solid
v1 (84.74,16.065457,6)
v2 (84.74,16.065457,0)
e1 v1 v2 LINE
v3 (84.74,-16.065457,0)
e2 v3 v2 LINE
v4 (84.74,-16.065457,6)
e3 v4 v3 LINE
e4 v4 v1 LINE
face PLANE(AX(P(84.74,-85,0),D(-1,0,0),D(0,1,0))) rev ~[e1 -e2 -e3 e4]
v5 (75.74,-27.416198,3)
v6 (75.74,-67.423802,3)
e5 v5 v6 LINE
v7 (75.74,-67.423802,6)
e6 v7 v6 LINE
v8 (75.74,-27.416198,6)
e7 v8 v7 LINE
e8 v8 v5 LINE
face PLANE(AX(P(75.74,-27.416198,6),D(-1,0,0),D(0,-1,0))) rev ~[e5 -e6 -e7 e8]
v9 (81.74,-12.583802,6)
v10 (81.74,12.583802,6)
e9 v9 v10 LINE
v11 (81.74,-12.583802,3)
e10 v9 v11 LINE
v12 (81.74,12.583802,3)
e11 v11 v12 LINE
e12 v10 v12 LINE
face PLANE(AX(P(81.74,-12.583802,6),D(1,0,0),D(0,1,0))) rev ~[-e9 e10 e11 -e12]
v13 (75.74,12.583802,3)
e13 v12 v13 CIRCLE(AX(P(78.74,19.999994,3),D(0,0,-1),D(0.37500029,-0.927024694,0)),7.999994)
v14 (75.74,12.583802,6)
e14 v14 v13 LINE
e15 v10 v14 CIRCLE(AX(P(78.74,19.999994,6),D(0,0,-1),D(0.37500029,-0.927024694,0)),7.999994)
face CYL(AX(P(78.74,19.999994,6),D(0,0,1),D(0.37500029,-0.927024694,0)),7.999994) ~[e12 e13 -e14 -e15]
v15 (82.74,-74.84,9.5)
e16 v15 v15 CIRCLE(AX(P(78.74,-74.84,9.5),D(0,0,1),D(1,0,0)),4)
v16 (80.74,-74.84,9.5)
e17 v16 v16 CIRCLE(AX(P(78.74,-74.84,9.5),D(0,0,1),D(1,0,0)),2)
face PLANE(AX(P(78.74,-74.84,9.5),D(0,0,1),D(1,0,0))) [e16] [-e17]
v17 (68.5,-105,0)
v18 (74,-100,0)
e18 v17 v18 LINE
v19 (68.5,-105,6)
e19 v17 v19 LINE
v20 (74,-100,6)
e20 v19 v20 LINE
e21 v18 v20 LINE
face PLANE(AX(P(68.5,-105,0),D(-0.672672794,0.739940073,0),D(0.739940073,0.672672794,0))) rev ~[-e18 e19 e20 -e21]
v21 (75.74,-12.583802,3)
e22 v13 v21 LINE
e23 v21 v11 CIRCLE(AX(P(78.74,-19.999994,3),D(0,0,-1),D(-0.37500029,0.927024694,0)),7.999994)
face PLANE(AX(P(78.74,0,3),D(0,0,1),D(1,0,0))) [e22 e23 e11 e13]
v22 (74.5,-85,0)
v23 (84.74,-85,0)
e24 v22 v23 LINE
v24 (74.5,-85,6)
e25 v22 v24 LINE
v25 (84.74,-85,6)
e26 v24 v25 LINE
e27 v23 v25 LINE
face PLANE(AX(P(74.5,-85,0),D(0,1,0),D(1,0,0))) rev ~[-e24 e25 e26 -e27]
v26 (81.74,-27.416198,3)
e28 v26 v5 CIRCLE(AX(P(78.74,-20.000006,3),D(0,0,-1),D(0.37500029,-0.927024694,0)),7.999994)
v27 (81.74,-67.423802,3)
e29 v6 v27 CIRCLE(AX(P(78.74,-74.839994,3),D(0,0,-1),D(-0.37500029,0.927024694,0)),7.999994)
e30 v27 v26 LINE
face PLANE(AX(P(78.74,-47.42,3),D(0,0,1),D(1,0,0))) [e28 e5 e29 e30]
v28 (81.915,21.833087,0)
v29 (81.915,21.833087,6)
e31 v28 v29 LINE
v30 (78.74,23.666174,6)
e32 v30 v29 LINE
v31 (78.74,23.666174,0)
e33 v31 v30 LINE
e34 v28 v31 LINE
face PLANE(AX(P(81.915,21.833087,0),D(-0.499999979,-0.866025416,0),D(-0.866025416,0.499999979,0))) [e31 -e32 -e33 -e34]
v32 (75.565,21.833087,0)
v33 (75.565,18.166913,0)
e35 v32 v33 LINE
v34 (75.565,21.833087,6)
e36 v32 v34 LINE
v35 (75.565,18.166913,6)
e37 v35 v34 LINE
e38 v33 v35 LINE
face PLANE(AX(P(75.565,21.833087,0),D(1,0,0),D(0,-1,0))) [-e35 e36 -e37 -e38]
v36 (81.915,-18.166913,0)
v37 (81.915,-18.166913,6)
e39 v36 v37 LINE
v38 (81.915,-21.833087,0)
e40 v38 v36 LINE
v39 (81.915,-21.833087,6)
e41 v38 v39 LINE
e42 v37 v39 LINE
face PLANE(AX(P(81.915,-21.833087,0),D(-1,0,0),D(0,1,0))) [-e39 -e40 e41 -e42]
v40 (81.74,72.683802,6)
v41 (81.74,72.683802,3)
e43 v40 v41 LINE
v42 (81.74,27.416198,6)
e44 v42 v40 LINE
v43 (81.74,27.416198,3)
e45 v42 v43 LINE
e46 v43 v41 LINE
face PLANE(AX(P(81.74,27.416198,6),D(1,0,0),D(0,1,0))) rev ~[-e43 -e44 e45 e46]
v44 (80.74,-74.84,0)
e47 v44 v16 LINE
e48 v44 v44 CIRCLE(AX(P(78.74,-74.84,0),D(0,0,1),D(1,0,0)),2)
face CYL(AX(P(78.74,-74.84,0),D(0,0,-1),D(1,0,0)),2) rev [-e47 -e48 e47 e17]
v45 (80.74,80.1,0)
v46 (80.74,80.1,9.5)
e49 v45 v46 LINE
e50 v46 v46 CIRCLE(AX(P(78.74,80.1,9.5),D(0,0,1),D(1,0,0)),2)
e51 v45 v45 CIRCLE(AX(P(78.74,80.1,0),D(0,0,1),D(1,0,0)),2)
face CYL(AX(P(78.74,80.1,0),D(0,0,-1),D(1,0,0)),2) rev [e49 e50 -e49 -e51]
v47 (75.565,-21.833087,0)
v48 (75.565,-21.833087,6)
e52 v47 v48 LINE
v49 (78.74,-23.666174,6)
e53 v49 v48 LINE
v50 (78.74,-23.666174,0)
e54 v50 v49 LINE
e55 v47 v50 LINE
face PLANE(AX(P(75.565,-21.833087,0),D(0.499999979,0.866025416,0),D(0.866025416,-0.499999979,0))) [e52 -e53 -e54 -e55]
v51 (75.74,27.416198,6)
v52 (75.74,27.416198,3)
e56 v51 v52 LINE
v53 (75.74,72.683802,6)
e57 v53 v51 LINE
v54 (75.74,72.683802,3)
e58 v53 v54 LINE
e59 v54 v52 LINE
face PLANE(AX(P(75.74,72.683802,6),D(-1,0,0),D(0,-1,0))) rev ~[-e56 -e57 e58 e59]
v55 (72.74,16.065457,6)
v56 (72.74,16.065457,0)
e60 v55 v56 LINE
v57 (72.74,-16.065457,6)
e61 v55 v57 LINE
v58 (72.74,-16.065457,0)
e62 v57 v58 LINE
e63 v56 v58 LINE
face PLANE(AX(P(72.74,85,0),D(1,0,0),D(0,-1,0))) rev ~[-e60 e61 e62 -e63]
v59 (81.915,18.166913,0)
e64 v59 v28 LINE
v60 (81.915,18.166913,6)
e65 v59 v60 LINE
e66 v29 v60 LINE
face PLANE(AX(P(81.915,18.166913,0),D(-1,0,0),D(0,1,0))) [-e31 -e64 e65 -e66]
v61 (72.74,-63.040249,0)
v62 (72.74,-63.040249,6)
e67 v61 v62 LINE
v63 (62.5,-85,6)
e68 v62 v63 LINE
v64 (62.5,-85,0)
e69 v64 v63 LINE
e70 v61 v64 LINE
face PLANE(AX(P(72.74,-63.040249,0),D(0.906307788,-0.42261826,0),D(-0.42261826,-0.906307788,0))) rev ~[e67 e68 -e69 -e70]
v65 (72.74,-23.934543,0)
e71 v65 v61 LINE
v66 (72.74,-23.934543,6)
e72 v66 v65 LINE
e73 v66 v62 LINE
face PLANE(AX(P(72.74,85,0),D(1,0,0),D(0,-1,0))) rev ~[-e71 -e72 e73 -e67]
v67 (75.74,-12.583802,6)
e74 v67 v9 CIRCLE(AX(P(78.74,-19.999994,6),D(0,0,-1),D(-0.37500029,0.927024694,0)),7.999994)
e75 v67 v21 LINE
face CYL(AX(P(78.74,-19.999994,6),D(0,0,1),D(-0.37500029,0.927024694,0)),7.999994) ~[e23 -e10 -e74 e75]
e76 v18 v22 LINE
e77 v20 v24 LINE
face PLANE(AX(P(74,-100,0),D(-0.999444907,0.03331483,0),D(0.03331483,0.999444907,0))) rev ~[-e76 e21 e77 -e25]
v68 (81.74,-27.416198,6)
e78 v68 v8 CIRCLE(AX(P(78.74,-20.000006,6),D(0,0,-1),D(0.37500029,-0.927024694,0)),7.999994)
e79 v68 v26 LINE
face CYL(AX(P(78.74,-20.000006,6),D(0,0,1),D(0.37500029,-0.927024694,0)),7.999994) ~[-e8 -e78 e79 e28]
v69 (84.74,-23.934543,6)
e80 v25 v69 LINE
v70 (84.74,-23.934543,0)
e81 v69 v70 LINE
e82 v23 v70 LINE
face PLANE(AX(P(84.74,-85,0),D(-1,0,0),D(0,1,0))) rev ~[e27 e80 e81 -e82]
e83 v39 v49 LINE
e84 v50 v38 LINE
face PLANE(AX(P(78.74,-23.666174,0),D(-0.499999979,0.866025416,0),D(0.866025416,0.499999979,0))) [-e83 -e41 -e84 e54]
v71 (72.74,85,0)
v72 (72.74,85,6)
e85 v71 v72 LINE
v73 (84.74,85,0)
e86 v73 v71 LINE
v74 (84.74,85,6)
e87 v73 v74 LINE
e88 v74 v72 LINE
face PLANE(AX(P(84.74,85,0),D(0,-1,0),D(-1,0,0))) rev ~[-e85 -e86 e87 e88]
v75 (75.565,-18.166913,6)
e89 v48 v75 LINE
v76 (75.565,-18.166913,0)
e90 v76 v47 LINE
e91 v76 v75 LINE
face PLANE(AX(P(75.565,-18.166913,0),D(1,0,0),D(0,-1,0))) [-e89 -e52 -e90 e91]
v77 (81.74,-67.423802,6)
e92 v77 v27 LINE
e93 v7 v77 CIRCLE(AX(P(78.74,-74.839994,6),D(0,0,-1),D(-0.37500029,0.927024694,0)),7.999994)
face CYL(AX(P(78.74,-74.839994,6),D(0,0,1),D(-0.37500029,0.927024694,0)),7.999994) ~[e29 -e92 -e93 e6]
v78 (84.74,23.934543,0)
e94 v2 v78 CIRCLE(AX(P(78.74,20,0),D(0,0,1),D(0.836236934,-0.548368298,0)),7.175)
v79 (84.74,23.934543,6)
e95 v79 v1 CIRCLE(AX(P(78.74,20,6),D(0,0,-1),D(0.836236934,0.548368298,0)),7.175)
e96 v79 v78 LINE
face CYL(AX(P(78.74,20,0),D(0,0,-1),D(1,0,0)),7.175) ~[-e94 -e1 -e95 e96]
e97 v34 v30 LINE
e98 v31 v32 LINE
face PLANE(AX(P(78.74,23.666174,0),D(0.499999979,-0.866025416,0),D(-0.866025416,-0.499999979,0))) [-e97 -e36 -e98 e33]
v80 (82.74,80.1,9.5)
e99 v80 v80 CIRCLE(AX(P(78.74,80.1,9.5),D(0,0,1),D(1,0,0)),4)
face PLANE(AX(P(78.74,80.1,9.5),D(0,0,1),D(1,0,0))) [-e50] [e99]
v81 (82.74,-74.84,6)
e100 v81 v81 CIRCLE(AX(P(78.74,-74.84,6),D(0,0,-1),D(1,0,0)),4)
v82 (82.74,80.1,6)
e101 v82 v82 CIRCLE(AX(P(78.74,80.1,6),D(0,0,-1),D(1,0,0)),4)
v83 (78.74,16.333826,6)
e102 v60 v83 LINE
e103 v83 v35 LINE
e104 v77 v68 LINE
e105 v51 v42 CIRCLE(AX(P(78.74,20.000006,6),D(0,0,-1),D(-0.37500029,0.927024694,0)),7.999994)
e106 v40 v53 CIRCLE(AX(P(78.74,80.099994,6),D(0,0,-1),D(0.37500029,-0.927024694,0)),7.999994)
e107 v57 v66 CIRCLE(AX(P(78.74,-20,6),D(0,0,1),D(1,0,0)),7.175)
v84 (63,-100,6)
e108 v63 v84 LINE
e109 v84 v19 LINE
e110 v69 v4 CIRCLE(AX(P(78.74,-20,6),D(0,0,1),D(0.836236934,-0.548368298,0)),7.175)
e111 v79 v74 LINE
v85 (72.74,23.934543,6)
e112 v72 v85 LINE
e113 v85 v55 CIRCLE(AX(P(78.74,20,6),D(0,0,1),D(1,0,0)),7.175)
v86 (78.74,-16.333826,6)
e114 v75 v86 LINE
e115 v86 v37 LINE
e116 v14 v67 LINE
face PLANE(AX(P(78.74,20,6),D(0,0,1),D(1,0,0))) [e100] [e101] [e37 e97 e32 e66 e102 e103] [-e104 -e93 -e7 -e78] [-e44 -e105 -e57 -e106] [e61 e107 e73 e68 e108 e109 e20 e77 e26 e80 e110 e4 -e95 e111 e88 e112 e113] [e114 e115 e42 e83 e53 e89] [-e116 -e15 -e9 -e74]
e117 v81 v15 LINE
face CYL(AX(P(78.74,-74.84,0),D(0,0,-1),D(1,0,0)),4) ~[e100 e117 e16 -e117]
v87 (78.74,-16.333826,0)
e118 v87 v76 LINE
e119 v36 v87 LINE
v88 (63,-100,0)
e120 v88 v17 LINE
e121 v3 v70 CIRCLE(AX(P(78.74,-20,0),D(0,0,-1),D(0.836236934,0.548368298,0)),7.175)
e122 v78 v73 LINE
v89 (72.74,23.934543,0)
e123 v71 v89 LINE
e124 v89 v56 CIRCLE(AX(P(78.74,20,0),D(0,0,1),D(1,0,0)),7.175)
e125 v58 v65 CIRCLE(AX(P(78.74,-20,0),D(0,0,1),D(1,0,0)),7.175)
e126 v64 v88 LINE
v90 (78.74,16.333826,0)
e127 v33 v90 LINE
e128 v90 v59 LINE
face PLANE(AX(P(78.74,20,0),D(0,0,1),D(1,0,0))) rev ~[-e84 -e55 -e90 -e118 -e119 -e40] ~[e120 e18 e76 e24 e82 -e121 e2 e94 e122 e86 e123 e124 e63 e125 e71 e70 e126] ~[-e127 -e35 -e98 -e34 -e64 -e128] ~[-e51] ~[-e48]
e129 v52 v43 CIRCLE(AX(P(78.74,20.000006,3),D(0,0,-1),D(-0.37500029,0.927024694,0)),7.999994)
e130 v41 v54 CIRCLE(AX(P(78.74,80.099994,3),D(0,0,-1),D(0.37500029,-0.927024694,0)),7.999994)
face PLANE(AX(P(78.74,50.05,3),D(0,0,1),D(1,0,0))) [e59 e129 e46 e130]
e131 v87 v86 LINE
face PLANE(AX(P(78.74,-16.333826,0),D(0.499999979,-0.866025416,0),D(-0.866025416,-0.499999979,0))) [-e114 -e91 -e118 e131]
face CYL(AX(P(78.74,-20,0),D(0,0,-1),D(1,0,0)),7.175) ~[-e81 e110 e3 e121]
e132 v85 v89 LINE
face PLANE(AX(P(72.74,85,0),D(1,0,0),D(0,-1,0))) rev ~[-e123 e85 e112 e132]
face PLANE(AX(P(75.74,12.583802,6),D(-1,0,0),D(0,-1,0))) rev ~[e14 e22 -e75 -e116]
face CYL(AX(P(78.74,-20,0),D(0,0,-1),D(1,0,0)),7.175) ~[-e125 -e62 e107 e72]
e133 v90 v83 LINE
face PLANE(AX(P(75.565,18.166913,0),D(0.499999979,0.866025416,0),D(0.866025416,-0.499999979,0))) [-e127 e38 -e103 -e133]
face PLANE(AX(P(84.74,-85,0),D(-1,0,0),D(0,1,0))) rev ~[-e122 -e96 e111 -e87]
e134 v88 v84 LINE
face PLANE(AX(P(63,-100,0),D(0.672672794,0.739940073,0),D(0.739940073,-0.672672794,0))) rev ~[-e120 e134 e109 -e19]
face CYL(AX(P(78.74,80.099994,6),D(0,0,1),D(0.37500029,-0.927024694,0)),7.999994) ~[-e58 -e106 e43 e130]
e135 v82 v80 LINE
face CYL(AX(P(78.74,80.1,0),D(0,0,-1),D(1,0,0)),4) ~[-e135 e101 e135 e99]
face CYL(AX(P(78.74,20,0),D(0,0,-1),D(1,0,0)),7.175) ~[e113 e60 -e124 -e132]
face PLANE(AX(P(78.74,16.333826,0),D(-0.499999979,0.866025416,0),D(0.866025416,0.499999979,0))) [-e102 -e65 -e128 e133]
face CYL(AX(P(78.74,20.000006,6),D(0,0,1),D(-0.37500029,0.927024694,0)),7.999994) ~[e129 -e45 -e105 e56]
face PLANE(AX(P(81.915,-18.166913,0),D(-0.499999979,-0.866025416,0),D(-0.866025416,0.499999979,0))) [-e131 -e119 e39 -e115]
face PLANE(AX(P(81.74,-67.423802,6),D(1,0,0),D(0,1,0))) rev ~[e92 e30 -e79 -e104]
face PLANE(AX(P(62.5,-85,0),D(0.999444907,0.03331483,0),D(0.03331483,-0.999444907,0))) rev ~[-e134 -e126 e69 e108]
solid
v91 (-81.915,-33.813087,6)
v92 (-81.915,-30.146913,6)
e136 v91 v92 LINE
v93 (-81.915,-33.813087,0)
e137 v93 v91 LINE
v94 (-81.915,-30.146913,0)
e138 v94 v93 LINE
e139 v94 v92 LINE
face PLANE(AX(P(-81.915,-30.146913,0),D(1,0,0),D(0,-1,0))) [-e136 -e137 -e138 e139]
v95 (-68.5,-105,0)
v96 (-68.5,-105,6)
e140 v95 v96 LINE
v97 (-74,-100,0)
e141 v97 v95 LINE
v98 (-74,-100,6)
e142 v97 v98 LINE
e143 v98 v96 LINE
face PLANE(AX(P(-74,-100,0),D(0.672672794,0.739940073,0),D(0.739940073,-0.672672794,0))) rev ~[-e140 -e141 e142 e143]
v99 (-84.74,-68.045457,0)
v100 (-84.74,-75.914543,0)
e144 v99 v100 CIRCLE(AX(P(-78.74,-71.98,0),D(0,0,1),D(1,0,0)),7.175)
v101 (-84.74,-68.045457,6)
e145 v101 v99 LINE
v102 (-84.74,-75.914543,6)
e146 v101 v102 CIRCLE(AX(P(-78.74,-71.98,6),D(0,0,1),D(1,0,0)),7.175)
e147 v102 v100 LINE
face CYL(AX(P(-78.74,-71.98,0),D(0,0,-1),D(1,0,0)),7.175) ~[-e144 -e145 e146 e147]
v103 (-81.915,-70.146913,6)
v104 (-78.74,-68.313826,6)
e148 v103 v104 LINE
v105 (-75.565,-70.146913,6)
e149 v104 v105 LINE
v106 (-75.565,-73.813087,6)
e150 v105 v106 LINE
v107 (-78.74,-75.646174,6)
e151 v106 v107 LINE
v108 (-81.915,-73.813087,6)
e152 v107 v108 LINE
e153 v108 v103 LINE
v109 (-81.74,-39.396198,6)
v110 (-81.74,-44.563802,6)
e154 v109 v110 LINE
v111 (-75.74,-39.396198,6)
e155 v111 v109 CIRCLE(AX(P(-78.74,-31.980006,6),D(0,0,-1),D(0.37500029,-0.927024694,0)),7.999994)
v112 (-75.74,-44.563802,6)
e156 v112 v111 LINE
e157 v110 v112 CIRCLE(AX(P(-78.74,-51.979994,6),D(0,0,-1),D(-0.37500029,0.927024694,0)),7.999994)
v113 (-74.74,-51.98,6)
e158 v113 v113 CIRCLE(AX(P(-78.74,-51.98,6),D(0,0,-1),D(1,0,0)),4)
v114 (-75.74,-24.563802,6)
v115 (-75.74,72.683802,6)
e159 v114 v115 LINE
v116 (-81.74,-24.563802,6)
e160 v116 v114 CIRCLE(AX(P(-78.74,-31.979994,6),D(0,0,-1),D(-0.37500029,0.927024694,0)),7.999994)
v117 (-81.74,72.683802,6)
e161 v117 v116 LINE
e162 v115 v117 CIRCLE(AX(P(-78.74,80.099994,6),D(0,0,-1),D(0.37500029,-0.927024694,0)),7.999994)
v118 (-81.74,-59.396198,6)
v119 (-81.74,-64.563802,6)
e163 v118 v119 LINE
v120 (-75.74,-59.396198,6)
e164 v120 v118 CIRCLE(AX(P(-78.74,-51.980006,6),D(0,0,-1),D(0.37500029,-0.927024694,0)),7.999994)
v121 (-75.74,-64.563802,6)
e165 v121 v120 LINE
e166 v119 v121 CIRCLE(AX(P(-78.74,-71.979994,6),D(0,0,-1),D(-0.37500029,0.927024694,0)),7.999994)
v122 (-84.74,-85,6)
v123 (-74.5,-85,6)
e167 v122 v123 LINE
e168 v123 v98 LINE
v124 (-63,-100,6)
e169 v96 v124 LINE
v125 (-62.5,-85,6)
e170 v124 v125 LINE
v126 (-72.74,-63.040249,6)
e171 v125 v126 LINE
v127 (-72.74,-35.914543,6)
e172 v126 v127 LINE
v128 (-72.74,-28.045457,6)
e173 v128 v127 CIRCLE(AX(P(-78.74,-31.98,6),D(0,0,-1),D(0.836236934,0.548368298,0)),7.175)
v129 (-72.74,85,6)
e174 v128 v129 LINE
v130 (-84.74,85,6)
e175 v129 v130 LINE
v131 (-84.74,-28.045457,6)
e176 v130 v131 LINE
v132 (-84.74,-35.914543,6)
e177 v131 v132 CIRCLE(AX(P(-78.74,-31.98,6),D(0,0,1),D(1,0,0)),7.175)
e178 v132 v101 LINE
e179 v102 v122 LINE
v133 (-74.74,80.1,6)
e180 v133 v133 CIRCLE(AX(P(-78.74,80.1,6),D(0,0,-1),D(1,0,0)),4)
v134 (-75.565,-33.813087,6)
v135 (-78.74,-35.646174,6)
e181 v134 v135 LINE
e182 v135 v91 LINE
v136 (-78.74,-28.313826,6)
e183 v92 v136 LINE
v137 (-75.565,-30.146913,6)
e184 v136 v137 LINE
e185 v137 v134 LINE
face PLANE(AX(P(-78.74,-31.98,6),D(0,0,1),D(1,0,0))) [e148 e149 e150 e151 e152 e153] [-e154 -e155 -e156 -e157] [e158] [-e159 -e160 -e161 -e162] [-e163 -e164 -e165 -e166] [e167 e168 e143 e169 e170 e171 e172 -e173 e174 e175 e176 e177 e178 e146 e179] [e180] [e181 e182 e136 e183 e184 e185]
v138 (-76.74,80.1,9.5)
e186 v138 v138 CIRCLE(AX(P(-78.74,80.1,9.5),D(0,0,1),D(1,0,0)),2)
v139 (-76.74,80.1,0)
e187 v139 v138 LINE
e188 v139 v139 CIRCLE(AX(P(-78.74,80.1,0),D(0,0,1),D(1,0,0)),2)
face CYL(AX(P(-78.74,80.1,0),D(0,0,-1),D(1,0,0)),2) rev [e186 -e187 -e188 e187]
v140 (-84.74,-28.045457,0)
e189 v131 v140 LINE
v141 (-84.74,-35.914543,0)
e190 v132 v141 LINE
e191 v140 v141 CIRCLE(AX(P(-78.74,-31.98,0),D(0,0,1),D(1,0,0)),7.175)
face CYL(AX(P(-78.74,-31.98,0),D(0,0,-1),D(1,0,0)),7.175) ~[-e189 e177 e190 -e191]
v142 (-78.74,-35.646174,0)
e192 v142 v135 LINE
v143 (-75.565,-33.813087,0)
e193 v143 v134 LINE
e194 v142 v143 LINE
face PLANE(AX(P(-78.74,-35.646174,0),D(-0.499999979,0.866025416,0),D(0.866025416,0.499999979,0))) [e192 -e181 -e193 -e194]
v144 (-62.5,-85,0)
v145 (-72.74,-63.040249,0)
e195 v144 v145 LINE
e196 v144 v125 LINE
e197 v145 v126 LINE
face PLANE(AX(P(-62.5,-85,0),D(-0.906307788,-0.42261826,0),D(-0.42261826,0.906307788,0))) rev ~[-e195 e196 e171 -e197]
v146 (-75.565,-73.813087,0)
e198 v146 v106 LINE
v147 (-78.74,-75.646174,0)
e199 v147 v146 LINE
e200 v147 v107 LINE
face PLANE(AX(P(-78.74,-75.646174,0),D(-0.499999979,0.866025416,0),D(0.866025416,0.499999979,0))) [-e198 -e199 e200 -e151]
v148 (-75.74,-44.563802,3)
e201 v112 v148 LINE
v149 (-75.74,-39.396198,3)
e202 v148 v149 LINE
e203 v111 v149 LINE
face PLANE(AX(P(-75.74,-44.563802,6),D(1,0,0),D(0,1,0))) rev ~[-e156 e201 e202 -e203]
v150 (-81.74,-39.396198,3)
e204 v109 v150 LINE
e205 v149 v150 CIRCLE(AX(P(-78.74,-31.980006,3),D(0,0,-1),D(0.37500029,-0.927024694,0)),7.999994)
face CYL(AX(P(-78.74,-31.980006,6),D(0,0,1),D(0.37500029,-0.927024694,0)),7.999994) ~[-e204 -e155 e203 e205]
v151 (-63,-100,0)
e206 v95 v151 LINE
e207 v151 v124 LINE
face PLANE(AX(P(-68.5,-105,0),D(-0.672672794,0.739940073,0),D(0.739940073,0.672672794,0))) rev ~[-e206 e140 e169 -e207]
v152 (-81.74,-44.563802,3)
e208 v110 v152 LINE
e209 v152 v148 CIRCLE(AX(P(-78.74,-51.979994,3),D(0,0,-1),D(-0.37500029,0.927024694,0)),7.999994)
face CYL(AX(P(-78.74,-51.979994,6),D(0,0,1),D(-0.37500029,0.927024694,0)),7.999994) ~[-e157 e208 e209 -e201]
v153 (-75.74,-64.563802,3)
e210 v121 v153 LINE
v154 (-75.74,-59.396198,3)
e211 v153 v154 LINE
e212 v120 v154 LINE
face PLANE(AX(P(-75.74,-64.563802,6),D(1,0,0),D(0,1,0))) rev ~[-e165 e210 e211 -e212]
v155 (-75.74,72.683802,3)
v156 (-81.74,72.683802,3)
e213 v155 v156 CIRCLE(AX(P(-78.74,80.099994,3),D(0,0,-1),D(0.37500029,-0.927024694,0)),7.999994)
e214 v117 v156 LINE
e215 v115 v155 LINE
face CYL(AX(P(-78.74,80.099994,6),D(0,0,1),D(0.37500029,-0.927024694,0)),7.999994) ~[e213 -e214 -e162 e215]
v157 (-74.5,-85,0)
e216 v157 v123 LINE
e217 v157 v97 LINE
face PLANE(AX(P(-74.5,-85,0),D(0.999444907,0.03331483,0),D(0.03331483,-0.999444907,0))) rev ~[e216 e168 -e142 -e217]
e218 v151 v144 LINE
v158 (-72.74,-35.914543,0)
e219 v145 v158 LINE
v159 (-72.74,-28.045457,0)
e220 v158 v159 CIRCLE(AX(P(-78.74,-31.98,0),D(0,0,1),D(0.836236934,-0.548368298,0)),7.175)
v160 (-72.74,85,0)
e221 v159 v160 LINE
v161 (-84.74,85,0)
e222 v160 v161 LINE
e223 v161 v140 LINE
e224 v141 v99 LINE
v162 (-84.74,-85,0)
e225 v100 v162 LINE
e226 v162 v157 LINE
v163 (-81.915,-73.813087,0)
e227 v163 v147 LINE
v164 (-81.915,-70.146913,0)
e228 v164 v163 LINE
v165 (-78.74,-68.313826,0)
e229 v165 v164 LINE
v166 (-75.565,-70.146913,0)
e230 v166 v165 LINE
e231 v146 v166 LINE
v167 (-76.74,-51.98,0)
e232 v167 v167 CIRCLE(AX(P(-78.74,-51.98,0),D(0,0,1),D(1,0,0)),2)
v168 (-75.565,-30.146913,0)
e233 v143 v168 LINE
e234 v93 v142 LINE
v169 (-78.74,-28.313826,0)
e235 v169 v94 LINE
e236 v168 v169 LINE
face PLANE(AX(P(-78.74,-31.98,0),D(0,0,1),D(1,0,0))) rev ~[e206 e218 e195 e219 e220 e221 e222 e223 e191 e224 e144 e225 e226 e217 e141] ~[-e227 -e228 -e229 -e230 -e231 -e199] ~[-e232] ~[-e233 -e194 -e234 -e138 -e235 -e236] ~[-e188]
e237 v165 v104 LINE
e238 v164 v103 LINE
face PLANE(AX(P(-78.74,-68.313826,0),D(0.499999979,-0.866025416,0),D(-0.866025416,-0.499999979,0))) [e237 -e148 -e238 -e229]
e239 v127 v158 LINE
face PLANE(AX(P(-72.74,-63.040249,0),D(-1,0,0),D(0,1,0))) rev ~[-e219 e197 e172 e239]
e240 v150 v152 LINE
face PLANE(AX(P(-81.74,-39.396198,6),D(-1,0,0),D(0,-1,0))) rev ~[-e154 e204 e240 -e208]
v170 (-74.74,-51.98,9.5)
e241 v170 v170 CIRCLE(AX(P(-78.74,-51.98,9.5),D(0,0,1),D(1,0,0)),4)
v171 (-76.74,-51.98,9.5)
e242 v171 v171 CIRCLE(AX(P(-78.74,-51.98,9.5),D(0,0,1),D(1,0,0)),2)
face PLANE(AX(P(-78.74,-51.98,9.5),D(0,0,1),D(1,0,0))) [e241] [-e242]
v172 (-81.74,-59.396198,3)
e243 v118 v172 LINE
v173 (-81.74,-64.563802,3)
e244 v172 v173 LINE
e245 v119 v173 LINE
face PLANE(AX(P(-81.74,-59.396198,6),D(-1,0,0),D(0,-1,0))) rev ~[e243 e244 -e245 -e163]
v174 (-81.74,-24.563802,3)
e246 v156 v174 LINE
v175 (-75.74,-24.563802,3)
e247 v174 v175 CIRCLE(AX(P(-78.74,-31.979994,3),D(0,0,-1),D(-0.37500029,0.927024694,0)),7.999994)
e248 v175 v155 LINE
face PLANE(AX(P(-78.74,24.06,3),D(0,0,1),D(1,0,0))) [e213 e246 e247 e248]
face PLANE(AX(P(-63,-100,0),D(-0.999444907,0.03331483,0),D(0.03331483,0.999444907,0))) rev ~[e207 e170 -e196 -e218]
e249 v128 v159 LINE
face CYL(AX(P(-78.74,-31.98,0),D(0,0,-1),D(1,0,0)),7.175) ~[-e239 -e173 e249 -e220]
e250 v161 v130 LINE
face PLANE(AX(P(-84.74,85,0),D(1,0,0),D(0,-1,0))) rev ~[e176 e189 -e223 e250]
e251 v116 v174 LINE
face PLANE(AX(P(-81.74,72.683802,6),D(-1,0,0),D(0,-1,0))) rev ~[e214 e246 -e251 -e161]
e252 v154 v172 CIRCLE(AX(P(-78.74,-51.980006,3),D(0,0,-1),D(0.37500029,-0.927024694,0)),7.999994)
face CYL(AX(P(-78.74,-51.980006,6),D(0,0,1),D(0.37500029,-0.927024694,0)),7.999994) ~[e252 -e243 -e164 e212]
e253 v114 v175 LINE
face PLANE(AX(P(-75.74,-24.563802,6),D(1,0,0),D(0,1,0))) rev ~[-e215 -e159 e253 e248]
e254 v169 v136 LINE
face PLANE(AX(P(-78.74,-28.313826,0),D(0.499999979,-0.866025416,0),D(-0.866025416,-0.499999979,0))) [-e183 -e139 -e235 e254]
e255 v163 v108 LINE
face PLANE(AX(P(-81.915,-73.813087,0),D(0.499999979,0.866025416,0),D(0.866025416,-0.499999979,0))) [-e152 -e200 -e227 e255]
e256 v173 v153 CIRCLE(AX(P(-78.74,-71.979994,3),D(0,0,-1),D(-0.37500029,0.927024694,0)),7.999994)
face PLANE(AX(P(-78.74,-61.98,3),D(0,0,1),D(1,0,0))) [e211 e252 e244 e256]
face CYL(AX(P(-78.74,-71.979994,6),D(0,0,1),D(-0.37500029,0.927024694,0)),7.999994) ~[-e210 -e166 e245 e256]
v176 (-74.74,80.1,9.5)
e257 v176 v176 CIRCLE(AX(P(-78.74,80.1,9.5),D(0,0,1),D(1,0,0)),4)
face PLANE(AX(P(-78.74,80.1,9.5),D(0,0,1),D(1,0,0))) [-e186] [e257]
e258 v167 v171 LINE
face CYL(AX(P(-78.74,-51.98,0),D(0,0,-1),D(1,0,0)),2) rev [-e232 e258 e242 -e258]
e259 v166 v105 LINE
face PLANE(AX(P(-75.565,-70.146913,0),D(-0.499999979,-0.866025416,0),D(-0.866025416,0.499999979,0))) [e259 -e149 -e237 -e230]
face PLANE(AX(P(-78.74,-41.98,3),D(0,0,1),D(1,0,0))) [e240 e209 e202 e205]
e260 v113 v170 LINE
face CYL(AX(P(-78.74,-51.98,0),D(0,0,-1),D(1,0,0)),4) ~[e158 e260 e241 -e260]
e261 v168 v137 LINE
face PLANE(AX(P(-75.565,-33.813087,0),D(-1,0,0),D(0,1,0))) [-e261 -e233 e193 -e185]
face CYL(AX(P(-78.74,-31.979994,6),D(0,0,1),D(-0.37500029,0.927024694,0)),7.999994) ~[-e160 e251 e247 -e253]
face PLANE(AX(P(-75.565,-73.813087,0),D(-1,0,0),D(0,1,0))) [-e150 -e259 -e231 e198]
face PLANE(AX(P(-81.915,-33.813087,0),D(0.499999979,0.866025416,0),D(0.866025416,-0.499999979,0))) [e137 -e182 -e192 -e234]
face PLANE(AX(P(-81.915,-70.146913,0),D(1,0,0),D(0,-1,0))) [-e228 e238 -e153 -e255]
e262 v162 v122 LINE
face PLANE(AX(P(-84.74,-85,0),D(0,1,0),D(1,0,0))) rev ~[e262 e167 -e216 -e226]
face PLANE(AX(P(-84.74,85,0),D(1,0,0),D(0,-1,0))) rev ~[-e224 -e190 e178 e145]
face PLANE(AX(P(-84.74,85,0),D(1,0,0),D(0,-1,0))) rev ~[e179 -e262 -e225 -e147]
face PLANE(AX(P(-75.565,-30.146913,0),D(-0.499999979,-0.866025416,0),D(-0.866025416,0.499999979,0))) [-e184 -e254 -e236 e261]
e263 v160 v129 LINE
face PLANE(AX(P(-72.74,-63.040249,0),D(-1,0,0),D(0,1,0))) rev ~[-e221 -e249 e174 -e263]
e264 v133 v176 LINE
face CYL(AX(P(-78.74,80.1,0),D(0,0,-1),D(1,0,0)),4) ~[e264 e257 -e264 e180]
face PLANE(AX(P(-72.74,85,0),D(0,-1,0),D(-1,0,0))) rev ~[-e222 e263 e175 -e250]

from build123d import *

# Parameters (mm, degrees)
F0_R     = 2
F1_DEPTH = 6
F2_R     = 4
F2_R_2   = 2
F3_DEPTH = 9.5
F4_R     = 7.175
F5_DEPTH = 6
F6_DEPTH = 9.501
F8_DEPTH = 3


with BuildPart() as f1:
    # F0 (on Top) → F1 (new body)
    with BuildSketch(Plane.XY):
        Polygon((-84.74, 85), (-84.74, -85), (-74.5, -85), (-74, -100), (-68.5, -105), (-63, -100), (-62.5, -85), (-72.74, -63.040249), (-72.74, 85), align=None)
        with Locations((-78.74, -51.98)):
            Circle(F0_R, mode=Mode.SUBTRACT)
        with Locations((-78.74, 80.1)):
            Circle(F0_R, mode=Mode.SUBTRACT)
        Polygon((63, -100), (68.5, -105), (74, -100), (74.5, -85), (84.74, -85), (84.74, 85), (72.74, 85), (72.74, -63.040249), (62.5, -85), align=None)
        with Locations((78.74, -74.84)):
            Circle(F0_R, mode=Mode.SUBTRACT)
        with Locations((78.74, 80.1)):
            Circle(F0_R, mode=Mode.SUBTRACT)
    extrude(amount=F1_DEPTH)

    # F2 (on Top) → F3 (join)
    with BuildSketch(Plane.XY):
        with Locations((-78.74, -51.98)):
            Circle(F2_R)
        with Locations((-78.74, -51.98)):
            Circle(F2_R_2, mode=Mode.SUBTRACT)
        with Locations((-78.74, 80.1)):
            Circle(F2_R)
        with Locations((-78.74, 80.1)):
            Circle(F2_R_2, mode=Mode.SUBTRACT)
        with Locations((78.74, -74.84)):
            Circle(F2_R)
        with Locations((78.74, -74.84)):
            Circle(F2_R_2, mode=Mode.SUBTRACT)
        with Locations((78.74, 80.1)):
            Circle(F2_R)
        with Locations((78.74, 80.1)):
            Circle(F2_R_2, mode=Mode.SUBTRACT)
    extrude(amount=F3_DEPTH)

    # F4 (on Top) → F5 (join, through all)
    with BuildSketch(Plane.XY):
        with Locations((-78.74, -31.98)):
            Circle(F4_R)
        Polygon((-78.74, -28.313826), (-75.565, -30.146913), (-75.565, -33.813087), (-78.74, -35.646174), (-81.915, -33.813087), (-81.915, -30.146913), align=None, mode=Mode.SUBTRACT)
        with Locations((-78.74, -71.98)):
            Circle(F4_R)
        Polygon((-78.74, -68.313826), (-75.565, -70.146913), (-75.565, -73.813087), (-78.74, -75.646174), (-81.915, -73.813087), (-81.915, -70.146913), align=None, mode=Mode.SUBTRACT)
        with Locations((78.74, 20)):
            Circle(F4_R)
        Polygon((78.74, 23.666174), (81.915, 21.833087), (81.915, 18.166913), (78.74, 16.333826), (75.565, 18.166913), (75.565, 21.833087), align=None, mode=Mode.SUBTRACT)
        with Locations((78.74, -20)):
            Circle(F4_R)
        Polygon((78.74, -16.333826), (81.915, -18.166913), (81.915, -21.833087), (78.74, -23.666174), (75.565, -21.833087), (75.565, -18.166913), align=None, mode=Mode.SUBTRACT)
    extrude(amount=F5_DEPTH)

    # F4 (on Top) → F6 (cut, through all)
    with BuildSketch(Plane.XY):
        Polygon((-75.565, -33.813087), (-75.565, -30.146913), (-78.74, -28.313826), (-81.915, -30.146913), (-81.915, -33.813087), (-78.74, -35.646174), align=None)
        Polygon((-75.565, -73.813087), (-75.565, -70.146913), (-78.74, -68.313826), (-81.915, -70.146913), (-81.915, -73.813087), (-78.74, -75.646174), align=None)
        Polygon((81.915, -21.833087), (81.915, -18.166913), (78.74, -16.333826), (75.565, -18.166913), (75.565, -21.833087), (78.74, -23.666174), align=None)
        Polygon((81.915, 18.166913), (81.915, 21.833087), (78.74, 23.666174), (75.565, 21.833087), (75.565, 18.166913), (78.74, 16.333826), align=None)
    extrude(amount=F6_DEPTH, mode=Mode.SUBTRACT)

    # F7 (on face) → F8 (cut)
    with BuildSketch(Plane.XY.offset(6)):
        with BuildLine():
            ThreePointArc((-75.74, -39.396198), (-78.74, -39.98), (-81.74, -39.396198))
            Line((-81.74, -39.396198), (-81.74, -44.563802))
            ThreePointArc((-81.74, -44.563802), (-78.74, -43.98), (-75.74, -44.563802))
            Line((-75.74, -44.563802), (-75.74, -39.396198))
        make_face()
        with BuildLine():
            ThreePointArc((75.74, -12.583802), (78.74, -12), (81.74, -12.583802))
            Line((81.74, -12.583802), (81.74, 12.583802))
            ThreePointArc((81.74, 12.583802), (78.74, 12), (75.74, 12.583802))
            Line((75.74, 12.583802), (75.74, -12.583802))
        make_face()
        with BuildLine():
            ThreePointArc((-75.74, 72.683802), (-78.74, 72.1), (-81.74, 72.683802))
            Line((-81.74, 72.683802), (-81.74, -24.563802))
            ThreePointArc((-81.74, -24.563802), (-78.74, -23.98), (-75.74, -24.563802))
            Line((-75.74, -24.563802), (-75.74, 72.683802))
        make_face()
        with BuildLine():
            ThreePointArc((-75.74, -59.396198), (-78.74, -59.98), (-81.74, -59.396198))
            Line((-81.74, -59.396198), (-81.74, -64.563802))
            ThreePointArc((-81.74, -64.563802), (-78.74, -63.98), (-75.74, -64.563802))
            Line((-75.74, -64.563802), (-75.74, -59.396198))
        make_face()
        with BuildLine():
            ThreePointArc((81.74, 72.683802), (78.74, 72.1), (75.74, 72.683802))
            Line((75.74, 72.683802), (75.74, 27.416198))
            ThreePointArc((75.74, 27.416198), (78.74, 28), (81.74, 27.416198))
            Line((81.74, 27.416198), (81.74, 72.683802))
        make_face()
        with BuildLine():
            ThreePointArc((75.74, -67.423802), (78.74, -66.84), (81.74, -67.423802))
            Line((81.74, -67.423802), (81.74, -27.416198))
            ThreePointArc((81.74, -27.416198), (78.74, -28), (75.74, -27.416198))
            Line((75.74, -27.416198), (75.74, -67.423802))
        make_face()
    extrude(amount=-F8_DEPTH, mode=Mode.SUBTRACT)


solid = f1.part
